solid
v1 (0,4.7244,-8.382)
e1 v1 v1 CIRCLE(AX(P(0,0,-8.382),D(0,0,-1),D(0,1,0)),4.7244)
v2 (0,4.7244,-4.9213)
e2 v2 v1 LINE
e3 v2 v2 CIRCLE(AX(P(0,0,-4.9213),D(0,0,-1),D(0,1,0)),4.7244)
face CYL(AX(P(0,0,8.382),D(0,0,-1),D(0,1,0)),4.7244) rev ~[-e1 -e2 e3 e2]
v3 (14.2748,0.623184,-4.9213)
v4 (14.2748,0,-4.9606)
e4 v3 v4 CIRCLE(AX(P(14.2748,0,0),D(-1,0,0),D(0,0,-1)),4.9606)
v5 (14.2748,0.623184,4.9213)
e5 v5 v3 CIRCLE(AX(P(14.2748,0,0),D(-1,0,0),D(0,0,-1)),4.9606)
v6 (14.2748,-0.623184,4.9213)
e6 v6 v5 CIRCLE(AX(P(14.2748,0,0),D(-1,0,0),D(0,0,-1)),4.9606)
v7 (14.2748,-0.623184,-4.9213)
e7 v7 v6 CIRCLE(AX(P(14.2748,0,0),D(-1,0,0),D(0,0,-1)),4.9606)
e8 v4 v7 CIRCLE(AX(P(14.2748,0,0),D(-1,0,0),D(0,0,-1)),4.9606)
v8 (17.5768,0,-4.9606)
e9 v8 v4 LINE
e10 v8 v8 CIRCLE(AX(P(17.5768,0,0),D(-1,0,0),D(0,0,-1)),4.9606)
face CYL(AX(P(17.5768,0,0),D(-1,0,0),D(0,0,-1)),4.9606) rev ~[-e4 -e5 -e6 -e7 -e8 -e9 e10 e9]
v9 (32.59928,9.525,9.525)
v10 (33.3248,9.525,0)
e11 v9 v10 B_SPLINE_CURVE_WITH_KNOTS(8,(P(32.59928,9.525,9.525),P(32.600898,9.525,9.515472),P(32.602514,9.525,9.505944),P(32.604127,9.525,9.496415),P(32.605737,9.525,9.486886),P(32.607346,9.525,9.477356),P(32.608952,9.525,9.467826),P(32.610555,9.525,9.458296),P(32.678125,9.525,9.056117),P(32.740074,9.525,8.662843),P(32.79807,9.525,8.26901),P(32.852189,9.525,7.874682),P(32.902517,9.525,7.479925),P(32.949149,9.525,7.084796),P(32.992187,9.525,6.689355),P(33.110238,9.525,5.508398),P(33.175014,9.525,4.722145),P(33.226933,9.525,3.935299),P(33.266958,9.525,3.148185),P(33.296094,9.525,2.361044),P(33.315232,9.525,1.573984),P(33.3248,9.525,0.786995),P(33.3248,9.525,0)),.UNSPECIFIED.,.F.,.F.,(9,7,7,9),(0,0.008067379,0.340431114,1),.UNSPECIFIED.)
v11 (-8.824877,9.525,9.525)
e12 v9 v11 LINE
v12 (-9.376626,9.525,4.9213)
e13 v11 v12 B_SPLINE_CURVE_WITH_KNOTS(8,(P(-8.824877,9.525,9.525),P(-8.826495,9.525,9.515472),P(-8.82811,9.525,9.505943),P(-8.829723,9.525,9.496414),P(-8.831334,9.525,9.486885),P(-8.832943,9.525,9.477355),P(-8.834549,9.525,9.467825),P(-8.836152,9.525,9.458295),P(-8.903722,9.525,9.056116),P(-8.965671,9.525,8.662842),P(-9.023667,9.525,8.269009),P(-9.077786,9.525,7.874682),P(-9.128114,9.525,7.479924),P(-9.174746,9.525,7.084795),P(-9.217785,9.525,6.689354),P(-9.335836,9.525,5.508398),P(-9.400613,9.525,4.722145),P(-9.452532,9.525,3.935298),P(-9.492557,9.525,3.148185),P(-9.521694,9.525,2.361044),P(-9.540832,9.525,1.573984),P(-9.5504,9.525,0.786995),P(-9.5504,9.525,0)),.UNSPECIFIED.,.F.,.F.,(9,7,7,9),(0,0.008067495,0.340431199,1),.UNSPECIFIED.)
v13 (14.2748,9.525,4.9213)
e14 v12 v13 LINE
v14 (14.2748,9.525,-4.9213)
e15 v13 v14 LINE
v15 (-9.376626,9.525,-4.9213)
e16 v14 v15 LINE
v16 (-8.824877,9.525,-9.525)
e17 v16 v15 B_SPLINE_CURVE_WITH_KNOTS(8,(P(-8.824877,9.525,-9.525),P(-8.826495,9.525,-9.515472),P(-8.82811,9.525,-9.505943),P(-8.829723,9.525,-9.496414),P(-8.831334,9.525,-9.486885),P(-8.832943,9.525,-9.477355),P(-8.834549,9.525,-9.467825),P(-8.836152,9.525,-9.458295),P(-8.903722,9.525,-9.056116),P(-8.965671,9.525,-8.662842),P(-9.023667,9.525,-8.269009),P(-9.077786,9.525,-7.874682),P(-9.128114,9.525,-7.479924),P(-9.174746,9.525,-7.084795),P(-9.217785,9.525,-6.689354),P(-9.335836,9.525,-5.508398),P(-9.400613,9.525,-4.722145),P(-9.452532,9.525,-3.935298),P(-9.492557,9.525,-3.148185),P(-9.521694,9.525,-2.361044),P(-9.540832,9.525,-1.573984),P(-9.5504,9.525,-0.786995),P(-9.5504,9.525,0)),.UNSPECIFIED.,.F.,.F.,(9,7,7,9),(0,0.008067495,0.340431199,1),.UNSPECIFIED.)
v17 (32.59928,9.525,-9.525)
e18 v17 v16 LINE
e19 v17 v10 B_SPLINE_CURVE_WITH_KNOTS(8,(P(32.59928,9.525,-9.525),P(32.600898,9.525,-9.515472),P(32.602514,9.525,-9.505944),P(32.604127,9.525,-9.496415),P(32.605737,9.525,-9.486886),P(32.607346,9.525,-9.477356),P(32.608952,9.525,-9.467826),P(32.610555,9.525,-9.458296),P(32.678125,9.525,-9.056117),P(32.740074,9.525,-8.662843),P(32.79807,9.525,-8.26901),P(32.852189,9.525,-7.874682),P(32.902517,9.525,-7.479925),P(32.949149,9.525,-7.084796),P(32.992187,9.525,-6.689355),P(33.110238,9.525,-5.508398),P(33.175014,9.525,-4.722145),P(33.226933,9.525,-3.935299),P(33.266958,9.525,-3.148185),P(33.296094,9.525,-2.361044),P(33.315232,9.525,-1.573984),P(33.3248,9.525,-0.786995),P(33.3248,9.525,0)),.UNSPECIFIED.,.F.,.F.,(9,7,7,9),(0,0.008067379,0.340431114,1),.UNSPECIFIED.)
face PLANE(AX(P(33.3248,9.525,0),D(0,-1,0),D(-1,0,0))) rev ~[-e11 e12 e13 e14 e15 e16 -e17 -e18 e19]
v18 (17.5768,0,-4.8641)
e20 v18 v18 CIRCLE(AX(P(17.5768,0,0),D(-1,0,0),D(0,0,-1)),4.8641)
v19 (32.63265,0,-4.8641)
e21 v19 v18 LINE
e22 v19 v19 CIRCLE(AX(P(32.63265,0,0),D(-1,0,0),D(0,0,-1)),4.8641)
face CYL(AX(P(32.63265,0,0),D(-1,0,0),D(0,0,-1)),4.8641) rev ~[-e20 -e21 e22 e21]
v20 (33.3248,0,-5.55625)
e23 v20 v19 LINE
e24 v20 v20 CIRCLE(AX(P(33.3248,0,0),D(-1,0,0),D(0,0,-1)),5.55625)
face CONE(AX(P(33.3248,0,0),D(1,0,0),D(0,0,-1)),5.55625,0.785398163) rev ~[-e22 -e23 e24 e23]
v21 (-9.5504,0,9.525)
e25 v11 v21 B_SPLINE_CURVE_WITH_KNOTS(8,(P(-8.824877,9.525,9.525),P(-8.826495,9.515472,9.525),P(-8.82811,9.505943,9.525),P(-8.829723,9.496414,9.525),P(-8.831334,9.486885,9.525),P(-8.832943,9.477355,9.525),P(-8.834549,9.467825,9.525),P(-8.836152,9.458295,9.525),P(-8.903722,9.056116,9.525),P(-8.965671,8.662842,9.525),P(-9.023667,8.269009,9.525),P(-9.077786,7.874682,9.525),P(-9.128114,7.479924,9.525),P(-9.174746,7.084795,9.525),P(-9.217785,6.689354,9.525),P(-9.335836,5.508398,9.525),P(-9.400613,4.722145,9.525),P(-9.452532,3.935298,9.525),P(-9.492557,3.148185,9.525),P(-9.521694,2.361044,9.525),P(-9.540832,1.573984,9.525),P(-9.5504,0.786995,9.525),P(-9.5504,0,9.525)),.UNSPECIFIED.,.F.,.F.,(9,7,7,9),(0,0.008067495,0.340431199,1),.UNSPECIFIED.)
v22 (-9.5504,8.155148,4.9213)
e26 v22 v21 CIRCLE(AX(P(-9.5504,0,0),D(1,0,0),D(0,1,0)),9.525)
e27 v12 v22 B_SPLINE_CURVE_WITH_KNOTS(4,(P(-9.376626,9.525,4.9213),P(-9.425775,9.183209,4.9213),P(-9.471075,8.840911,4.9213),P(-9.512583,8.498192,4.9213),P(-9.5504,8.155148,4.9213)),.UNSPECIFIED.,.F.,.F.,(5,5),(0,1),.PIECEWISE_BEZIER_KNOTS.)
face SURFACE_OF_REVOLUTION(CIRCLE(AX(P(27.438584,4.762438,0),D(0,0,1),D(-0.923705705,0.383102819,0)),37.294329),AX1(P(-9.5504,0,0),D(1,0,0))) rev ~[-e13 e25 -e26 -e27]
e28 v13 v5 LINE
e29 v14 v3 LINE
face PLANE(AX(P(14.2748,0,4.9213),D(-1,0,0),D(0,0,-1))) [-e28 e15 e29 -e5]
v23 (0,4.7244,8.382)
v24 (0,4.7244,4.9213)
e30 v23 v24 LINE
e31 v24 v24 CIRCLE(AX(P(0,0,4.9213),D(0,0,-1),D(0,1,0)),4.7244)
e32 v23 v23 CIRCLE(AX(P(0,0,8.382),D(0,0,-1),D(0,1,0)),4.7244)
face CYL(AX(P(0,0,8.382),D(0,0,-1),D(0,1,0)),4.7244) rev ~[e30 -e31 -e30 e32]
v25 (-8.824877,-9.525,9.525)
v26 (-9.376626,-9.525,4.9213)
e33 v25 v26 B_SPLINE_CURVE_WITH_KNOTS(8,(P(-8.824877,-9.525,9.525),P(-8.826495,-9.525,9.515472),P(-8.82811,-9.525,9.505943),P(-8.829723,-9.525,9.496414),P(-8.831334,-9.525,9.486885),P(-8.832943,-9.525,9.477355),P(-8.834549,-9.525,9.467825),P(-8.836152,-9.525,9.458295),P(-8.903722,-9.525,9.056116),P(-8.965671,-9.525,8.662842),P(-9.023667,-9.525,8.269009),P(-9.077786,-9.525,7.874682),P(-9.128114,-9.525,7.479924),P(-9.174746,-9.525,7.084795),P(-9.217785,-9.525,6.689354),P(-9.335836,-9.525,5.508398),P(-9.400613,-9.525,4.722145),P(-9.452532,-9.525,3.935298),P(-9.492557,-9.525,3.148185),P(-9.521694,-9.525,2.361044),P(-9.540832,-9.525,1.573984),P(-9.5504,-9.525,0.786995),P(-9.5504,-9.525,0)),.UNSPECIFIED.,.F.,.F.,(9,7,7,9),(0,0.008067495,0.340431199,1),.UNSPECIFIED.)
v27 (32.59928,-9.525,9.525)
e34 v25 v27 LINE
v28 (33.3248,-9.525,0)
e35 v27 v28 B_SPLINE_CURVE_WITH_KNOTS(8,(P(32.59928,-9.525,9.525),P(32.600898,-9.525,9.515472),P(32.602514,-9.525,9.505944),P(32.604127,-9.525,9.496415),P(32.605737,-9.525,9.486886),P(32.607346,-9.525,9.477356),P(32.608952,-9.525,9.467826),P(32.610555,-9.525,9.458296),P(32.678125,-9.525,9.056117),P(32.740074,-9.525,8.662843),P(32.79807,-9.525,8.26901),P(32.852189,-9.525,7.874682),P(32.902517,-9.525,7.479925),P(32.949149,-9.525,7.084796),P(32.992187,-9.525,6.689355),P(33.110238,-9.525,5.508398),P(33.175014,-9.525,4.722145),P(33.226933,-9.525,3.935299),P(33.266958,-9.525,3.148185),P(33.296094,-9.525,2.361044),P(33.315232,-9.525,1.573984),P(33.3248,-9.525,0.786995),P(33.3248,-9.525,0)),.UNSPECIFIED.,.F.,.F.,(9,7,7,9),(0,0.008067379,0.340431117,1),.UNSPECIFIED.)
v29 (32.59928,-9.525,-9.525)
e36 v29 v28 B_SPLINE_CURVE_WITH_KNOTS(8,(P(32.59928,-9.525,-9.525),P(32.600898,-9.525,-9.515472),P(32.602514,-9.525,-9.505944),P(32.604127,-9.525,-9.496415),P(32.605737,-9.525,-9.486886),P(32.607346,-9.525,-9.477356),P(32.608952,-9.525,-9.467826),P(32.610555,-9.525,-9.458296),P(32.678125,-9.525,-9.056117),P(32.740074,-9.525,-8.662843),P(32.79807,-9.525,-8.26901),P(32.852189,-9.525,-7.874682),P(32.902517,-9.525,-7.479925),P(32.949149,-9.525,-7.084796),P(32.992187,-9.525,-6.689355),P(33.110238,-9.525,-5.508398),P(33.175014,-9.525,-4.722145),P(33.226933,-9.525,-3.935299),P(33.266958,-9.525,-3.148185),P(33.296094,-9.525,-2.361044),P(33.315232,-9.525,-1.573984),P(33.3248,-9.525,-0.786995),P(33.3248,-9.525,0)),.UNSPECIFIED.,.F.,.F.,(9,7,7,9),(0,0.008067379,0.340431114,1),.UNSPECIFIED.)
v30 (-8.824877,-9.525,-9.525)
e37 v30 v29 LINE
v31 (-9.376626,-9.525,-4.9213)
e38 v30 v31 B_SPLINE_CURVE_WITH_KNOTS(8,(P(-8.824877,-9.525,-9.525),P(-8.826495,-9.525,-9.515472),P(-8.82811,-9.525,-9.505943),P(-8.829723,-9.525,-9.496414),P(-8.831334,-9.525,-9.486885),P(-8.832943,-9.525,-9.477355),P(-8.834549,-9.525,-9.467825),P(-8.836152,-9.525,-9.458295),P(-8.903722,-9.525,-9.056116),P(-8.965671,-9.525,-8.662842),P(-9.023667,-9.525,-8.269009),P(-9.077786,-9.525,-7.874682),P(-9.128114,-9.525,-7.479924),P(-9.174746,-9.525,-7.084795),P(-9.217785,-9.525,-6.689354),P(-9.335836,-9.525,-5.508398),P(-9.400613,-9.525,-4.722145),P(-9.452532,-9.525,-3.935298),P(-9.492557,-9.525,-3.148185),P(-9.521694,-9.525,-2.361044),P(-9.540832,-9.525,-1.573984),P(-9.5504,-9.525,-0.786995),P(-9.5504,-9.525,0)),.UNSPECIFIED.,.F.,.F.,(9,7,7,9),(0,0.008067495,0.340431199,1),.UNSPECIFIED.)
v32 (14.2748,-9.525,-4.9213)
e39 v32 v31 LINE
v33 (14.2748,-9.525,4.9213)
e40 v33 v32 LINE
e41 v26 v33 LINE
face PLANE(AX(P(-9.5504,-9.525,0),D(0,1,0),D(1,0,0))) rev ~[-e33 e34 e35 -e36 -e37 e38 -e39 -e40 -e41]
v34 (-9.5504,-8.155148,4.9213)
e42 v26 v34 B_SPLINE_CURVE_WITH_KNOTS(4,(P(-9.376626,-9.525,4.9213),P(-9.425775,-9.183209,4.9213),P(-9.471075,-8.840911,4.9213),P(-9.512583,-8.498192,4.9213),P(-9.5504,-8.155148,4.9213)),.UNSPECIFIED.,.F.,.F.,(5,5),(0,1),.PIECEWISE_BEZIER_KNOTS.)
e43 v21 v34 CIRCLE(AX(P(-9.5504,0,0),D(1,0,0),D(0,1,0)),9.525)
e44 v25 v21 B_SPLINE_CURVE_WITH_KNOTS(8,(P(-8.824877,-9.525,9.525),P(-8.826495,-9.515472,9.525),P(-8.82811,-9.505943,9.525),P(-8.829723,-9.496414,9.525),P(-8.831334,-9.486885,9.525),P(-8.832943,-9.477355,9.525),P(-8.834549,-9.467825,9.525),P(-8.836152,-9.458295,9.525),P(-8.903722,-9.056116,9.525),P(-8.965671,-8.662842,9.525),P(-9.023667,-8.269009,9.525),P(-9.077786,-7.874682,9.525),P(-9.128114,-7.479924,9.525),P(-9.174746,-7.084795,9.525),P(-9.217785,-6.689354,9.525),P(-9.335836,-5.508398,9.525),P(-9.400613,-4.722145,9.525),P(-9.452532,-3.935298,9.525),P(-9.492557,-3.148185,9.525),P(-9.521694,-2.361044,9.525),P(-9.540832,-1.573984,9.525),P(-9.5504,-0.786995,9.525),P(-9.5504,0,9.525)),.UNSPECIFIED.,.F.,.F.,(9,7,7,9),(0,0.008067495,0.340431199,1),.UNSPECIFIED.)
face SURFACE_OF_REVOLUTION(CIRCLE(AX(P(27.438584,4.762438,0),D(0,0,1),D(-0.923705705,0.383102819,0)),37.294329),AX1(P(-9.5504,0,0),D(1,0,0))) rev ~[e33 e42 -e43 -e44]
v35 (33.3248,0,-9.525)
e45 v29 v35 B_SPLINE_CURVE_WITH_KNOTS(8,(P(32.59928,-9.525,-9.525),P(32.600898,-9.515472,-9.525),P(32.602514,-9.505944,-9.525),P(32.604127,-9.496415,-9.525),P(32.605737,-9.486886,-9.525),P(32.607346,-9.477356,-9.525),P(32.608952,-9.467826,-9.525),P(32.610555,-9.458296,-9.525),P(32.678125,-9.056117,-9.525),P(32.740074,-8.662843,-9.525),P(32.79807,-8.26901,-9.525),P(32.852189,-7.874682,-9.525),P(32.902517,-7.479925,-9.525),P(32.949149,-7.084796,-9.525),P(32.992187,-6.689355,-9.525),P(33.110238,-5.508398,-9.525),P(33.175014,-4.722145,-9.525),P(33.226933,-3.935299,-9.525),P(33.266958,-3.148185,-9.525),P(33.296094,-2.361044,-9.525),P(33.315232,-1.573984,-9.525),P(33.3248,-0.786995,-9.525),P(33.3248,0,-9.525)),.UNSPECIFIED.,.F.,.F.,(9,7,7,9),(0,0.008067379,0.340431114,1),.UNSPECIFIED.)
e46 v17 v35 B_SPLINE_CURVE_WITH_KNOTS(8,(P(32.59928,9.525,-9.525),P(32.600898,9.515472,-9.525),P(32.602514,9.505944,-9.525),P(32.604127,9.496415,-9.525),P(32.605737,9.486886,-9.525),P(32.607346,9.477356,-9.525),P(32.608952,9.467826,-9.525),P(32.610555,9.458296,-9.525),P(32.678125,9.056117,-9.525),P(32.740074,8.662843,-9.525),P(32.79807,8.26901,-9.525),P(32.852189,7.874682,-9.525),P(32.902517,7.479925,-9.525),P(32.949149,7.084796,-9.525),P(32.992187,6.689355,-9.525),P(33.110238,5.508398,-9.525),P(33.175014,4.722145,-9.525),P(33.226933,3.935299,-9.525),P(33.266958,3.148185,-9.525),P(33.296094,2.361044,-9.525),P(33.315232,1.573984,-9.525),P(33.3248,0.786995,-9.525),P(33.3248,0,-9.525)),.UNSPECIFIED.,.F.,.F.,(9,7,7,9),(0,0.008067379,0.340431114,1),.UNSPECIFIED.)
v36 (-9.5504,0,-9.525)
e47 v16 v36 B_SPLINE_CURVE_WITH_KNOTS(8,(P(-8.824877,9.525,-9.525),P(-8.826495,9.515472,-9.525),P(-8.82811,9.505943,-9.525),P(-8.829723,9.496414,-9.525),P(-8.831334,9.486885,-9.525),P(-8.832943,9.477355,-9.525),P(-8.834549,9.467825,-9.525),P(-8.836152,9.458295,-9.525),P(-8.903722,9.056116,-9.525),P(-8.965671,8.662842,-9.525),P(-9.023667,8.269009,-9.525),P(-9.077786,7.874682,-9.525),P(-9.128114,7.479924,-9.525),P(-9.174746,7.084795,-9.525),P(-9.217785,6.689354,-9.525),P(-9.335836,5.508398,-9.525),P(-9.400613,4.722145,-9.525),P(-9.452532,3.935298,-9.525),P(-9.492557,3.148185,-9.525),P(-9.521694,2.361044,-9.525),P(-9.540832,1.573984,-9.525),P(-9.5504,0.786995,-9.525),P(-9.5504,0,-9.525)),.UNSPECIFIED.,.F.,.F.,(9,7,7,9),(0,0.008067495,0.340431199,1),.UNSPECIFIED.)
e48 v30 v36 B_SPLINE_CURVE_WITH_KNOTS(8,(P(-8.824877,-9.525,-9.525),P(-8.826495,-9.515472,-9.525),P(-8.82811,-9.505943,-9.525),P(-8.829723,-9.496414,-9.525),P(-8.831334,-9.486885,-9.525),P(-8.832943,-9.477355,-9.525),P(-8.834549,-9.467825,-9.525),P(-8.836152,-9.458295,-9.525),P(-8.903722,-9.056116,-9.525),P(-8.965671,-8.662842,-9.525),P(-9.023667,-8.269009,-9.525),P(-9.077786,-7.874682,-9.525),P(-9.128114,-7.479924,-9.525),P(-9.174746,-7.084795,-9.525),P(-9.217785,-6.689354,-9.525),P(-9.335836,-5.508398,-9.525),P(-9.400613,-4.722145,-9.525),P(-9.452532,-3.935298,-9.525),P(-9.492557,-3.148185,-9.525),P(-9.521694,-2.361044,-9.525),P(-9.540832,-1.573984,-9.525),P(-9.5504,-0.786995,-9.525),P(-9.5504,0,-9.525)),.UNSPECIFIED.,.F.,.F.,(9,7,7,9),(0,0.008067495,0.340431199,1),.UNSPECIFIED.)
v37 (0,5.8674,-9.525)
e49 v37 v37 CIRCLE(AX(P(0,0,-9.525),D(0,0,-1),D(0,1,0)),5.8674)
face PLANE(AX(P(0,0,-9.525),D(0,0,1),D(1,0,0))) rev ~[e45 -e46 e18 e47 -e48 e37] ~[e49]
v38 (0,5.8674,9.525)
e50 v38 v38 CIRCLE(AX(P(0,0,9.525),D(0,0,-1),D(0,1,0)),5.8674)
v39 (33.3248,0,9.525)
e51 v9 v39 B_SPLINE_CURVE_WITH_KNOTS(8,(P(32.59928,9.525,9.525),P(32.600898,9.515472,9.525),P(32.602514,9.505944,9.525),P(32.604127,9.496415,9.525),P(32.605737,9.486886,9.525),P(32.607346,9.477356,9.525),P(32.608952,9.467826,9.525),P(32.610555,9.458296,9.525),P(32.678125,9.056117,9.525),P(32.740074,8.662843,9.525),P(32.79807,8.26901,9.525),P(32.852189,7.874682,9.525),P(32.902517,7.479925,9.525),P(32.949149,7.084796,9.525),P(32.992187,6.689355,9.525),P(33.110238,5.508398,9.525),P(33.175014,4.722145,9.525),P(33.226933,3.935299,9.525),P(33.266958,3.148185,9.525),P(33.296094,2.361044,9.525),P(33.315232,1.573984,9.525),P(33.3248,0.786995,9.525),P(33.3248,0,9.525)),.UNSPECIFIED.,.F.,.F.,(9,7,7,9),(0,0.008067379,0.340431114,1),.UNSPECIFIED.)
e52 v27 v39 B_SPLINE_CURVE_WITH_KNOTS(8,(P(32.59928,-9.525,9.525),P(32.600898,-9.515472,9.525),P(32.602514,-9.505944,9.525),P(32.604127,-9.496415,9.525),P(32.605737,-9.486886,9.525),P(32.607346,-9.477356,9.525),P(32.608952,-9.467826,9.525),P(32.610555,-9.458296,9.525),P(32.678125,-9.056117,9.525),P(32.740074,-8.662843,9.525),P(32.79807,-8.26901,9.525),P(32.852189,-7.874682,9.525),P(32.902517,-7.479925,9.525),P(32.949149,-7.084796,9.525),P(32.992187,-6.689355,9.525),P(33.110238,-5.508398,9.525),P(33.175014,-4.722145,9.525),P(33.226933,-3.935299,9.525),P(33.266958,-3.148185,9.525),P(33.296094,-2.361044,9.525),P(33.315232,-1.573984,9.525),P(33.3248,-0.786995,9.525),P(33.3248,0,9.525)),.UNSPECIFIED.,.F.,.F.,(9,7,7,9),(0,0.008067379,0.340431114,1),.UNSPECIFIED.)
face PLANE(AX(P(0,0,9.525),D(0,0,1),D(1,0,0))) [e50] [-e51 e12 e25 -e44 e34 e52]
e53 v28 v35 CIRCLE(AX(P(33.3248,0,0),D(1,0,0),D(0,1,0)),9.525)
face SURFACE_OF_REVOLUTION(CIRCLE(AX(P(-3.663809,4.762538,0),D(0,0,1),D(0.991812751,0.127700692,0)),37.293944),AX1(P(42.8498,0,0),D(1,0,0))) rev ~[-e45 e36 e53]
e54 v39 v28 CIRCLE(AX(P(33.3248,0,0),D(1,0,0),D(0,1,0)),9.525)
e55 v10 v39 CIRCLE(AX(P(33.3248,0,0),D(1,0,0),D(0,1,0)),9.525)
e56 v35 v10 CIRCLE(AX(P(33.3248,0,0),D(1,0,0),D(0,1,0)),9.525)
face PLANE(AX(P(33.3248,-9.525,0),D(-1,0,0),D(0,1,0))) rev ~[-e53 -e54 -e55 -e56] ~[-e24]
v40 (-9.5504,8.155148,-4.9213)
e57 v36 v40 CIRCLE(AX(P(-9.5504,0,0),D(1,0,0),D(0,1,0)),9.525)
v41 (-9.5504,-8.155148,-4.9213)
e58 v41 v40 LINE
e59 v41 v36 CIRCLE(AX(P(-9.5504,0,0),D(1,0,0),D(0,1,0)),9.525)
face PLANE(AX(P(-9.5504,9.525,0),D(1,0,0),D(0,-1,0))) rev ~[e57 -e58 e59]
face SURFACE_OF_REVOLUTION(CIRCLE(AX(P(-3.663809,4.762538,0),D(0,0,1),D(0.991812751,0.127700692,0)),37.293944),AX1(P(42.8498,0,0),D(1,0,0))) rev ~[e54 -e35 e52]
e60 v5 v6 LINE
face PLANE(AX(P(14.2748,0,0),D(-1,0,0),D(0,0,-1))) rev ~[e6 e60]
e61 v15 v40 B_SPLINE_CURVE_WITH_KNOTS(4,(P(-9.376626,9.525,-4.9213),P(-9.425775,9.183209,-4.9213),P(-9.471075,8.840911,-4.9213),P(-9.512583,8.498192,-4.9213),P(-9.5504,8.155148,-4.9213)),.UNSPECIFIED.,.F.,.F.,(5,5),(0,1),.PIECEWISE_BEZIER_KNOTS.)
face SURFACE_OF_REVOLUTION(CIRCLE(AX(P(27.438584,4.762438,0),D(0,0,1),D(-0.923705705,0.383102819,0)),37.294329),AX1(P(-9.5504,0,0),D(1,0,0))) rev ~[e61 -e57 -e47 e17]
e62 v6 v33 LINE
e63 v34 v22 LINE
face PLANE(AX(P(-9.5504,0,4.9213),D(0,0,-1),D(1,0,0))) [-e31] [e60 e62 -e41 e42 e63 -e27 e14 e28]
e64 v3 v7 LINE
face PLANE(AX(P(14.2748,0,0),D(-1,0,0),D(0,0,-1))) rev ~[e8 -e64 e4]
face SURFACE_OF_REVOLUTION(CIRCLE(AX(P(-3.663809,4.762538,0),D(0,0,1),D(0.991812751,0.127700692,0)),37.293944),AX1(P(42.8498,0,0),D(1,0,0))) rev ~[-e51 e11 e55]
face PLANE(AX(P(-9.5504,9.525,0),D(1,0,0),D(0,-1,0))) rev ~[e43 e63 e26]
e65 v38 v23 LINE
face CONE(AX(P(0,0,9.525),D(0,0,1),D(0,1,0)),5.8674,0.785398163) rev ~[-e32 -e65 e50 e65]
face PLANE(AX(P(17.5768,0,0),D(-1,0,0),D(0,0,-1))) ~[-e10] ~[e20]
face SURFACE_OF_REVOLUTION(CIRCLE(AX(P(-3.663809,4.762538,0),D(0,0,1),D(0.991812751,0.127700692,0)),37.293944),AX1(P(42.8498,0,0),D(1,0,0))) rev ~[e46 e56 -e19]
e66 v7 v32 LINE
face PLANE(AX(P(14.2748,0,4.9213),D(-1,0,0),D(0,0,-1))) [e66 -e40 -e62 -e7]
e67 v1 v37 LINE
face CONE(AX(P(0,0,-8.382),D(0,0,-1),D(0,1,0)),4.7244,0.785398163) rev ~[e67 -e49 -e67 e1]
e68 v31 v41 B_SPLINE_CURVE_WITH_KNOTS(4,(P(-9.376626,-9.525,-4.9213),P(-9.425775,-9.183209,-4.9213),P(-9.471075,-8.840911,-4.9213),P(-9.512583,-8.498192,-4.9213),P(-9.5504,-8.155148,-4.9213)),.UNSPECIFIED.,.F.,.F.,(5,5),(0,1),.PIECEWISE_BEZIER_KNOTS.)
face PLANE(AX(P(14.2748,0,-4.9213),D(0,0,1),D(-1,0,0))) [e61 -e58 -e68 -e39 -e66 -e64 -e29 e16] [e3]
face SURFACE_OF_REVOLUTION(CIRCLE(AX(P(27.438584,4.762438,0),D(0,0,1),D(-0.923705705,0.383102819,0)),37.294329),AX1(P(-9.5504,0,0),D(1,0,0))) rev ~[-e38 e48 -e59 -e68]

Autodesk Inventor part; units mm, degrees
sketch "Sketch_1" plane through (0, 0, 0) normal (0, 0, 1) x (1, 0, 0)
  line L0 (-9.5504, 9.525) -> (-9.5504, -9.525)
  line L1 (-9.5504, -9.525) -> (33.3248, -9.525)
  line L2 (33.3248, -9.525) -> (33.3248, 9.525)
  line L3 (33.3248, 9.525) -> (-9.5504, 9.525)
extrude "Extrusion1" add sketch "Sketch_1" along normal mid plane 19.05
sketch "Sketch_2" plane through (0, 0, 0) normal (0, 1, 0) x (-1, 0, 0)
  line L0 (9.5504, -4.9213) -> (9.5504, 4.9213)
  line L1 (9.5504, 4.9213) -> (-14.2748, 4.9213)
  line L2 (-14.2748, 4.9213) -> (-14.2748, -4.9213)
  line L3 (-14.2748, -4.9213) -> (9.5504, -4.9213)
extrude "Extrusion2" cut sketch "Sketch_2" along normal mid plane 19.05
sketch "Sketch3" plane through (33.3248, -9.525, 9.525) normal (1, 0, 0) x (0, 0, -1)
  point P0 (9.525, 9.525)
hole "Hole1" at (33.3248, 0, 0) direction (-1, 0, 0) diameter 9.7282 depth 15.748 countersink diameter 11.1125 countersink angle 90 thread size "7/16-20 UNF" class "2B" standard "ANSI Unified Screw Threads"
sketch "Sketch4" plane through (17.5768, 0, 0) normal (1, 0, 0) x (0, 0, -1)
  point P0 (0, 0)
hole "Hole2" at (17.5768, 0, 0) direction (-1, 0, 0) diameter 9.9212 depth 3.302
sketch "Sketch_5" plane through (0, 0, 0) normal (1, 0, 0) x (0, 1, 0)
  line L0 (0, -9.525) -> (0, 9.525)
  line L1 (0, 9.525) -> (5.8674, 9.525)
  line L2 (5.8674, 9.525) -> (4.7244, 8.382)
  line L3 (4.7244, 8.382) -> (4.7244, -8.382)
  line L4 (4.7244, -8.382) -> (5.8674, -9.525)
  line L5 (5.8674, -9.525) -> (0, -9.525)
  line L6 (0, -9.525) -> (0, 9.525)
revolve "Revolution1" cut sketch "Sketch_5" angle 360 about axis through (0, 0, -9.525) along (0, 0, -1)
sketch "Sketch_9" plane through (0, 0, 0) normal (0, 0, 1) x (1, 0, 0)
  line L0 (42.8498, 0) -> (33.3248, 0)
  line L1 (33.3248, 0) -> (33.3248, 9.525)
  arc A0 (33.3248, 9.525) -> (30.7848, 19.05) centre (-3.664, 4.7625) ccw
  line L2 (30.7848, 19.05) -> (42.8498, 19.05)
  line L3 (42.8498, 19.05) -> (42.8498, 0)
  line L4 (42.8498, 0) -> (33.3248, 0)
revolve "Revolution2" cut sketch "Sketch_9" angle 360 about axis through (42.8498, 0, 0) along (1, 0, 0)
sketch "Sketch_10" plane through (0, 0, 0) normal (0, 0, 1) x (1, 0, 0)
  line L0 (-9.5504, 0) -> (-19.0754, 0)
  line L1 (-19.0754, 0) -> (-19.0754, 19.05)
  line L2 (-19.0754, 19.05) -> (-7.0104, 19.05)
  arc A0 (-7.0104, 19.05) -> (-9.5504, 9.525) centre (27.4384, 4.7625) ccw
  line L3 (-9.5504, 9.525) -> (-9.5504, 0)
  line L4 (-9.5504, 0) -> (-19.0754, 0)
revolve "Revolution3" cut sketch "Sketch_10" angle 360 about axis through (-9.5504, 0, 0) along (1, 0, 0)
ref_plane "dummy_XY" through (0, 0, 0) normal (0, 0, 1) x (1, 0, 0)
ref_plane "dummy_YZ" through (0, 0, 0) normal (1, 0, 0) x (0, 1, 0)
ref_plane "dummy_ZX" through (0, 0, 0) normal (0, 1, 0) x (0, 0, 1)
ref_plane "h1_XY" through (-9.5504, 9.525, 0) normal (0, 0, 1) x (1, 0, 0)
ref_plane "h1_YZ" through (-9.5504, 9.525, 0) normal (1, 0, 0) x (0, 1, 0)
ref_plane "h1_ZX" through (-9.5504, 9.525, 0) normal (0, 1, 0) x (0, 0, 1)
ref_plane "h2_XY" through (-9.5504, -9.525, 0) normal (0, 0, 1) x (1, 0, 0)
ref_plane "h2_YZ" through (-9.5504, -9.525, 0) normal (1, 0, 0) x (0, 1, 0)
ref_plane "h2_ZX" through (-9.5504, -9.525, 0) normal (0, 1, 0) x (0, 0, 1)
ref_plane "l1_XY" through (33.3248, 9.525, 0) normal (0, 0, 1) x (1, 0, 0)
ref_plane "l1_YZ" through (33.3248, 9.525, 0) normal (1, 0, 0) x (0, 1, 0)
ref_plane "l1_ZX" through (33.3248, 9.525, 0) normal (0, 1, 0) x (0, 0, 1)
ref_plane "l11_XY" through (33.3248, 9.525, 0) normal (0, 0, 1) x (1, 0, 0)
ref_plane "l11_YZ" through (33.3248, 9.525, 0) normal (1, 0, 0) x (0, 1, 0)
ref_plane "l11_ZX" through (33.3248, 9.525, 0) normal (0, 1, 0) x (0, 0, 1)
ref_plane "l12_XY" through (0, 9.525, 0) normal (0, 0, 1) x (1, 0, 0)
ref_plane "l12_YZ" through (0, 9.525, 0) normal (1, 0, 0) x (0, 1, 0)
ref_plane "l12_ZX" through (0, 9.525, 0) normal (0, 1, 0) x (0, 0, 1)
ref_plane "l2_XY" through (-9.5504, 9.525, 0) normal (0, 0, 1) x (1, 0, 0)
ref_plane "l2_YZ" through (-9.5504, 9.525, 0) normal (1, 0, 0) x (0, 1, 0)
ref_plane "l2_ZX" through (-9.5504, 9.525, 0) normal (0, 1, 0) x (0, 0, 1)
ref_plane "l21_XY" through (33.3248, 0, 0) normal (0, 1, 0) x (1, 0, 0)
ref_plane "l21_YZ" through (33.3248, 0, 0) normal (1, 0, 0) x (0, 0, -1)
ref_plane "l21_ZX" through (33.3248, 0, 0) normal (0, 0, -1) x (0, 1, 0)
ref_plane "l22_XY" through (14.2748, 0, 0) normal (0, 1, 0) x (1, 0, 0)
ref_plane "l22_YZ" through (14.2748, 0, 0) normal (1, 0, 0) x (0, 0, -1)
ref_plane "l22_ZX" through (14.2748, 0, 0) normal (0, 0, -1) x (0, 1, 0)
ref_plane "piston_rod_clevis_XY" through (33.3248, 0, 0) normal (1, 0, 0) x (0, 0, -1)
ref_plane "piston_rod_clevis_YZ" through (33.3248, 0, 0) normal (0, 0, -1) x (0, 1, 0)
ref_plane "piston_rod_clevis_ZX" through (33.3248, 0, 0) normal (0, 1, 0) x (1, 0, 0)
ref_plane "rod_clevis_body_XY" through (0, 0, 0) normal (0, 0, 1) x (1, 0, 0)
ref_plane "rod_clevis_body_YZ" through (0, 0, 0) normal (1, 0, 0) x (0, 1, 0)
ref_plane "rod_clevis_body_ZX" through (0, 0, 0) normal (0, 1, 0) x (0, 0, 1)
ref_plane "th1_XY" through (33.3248, 5.5563, 0) normal (0, 0, 1) x (1, 0, 0)
ref_plane "th1_YZ" through (33.3248, 5.5563, 0) normal (1, 0, 0) x (0, 1, 0)
ref_plane "th1_ZX" through (33.3248, 5.5563, 0) normal (0, 1, 0) x (0, 0, 1)
ref_plane "th2_XY" through (33.3248, -5.5563, 0) normal (0, 0, 1) x (1, 0, 0)
ref_plane "th2_YZ" through (33.3248, -5.5563, 0) normal (1, 0, 0) x (0, 1, 0)
ref_plane "th2_ZX" through (33.3248, -5.5563, 0) normal (0, 1, 0) x (0, 0, 1)
ref_plane "to_cylinder_XY" through (14.2748, 0, 0) normal (1, 0, 0) x (0, 0, -1)
ref_plane "to_cylinder_YZ" through (14.2748, 0, 0) normal (0, 0, -1) x (0, 1, 0)
ref_plane "to_cylinder_ZX" through (14.2748, 0, 0) normal (0, 1, 0) x (1, 0, 0)
ref_plane "w1_XY" through (33.3248, 0, -9.525) normal (0, 1, 0) x (1, 0, 0)
ref_plane "w1_YZ" through (33.3248, 0, -9.525) normal (1, 0, 0) x (0, 0, -1)
ref_plane "w1_ZX" through (33.3248, 0, -9.525) normal (0, 0, -1) x (0, 1, 0)
ref_plane "w11_XY" through (-9.5504, 0, -4.9213) normal (0, 1, 0) x (1, 0, 0)
ref_plane "w11_YZ" through (-9.5504, 0, -4.9213) normal (1, 0, 0) x (0, 0, -1)
ref_plane "w11_ZX" through (-9.5504, 0, -4.9213) normal (0, 0, -1) x (0, 1, 0)
ref_plane "w12_XY" through (-9.5504, 0, 4.9213) normal (0, 1, 0) x (1, 0, 0)
ref_plane "w12_YZ" through (-9.5504, 0, 4.9213) normal (1, 0, 0) x (0, 0, -1)
ref_plane "w12_ZX" through (-9.5504, 0, 4.9213) normal (0, 0, -1) x (0, 1, 0)
ref_plane "w2_XY" through (33.3248, 0, 9.525) normal (0, 1, 0) x (1, 0, 0)
ref_plane "w2_YZ" through (33.3248, 0, 9.525) normal (1, 0, 0) x (0, 0, -1)
ref_plane "w2_ZX" through (33.3248, 0, 9.525) normal (0, 0, -1) x (0, 1, 0)
properties part number "D-14053" material "Steel"
